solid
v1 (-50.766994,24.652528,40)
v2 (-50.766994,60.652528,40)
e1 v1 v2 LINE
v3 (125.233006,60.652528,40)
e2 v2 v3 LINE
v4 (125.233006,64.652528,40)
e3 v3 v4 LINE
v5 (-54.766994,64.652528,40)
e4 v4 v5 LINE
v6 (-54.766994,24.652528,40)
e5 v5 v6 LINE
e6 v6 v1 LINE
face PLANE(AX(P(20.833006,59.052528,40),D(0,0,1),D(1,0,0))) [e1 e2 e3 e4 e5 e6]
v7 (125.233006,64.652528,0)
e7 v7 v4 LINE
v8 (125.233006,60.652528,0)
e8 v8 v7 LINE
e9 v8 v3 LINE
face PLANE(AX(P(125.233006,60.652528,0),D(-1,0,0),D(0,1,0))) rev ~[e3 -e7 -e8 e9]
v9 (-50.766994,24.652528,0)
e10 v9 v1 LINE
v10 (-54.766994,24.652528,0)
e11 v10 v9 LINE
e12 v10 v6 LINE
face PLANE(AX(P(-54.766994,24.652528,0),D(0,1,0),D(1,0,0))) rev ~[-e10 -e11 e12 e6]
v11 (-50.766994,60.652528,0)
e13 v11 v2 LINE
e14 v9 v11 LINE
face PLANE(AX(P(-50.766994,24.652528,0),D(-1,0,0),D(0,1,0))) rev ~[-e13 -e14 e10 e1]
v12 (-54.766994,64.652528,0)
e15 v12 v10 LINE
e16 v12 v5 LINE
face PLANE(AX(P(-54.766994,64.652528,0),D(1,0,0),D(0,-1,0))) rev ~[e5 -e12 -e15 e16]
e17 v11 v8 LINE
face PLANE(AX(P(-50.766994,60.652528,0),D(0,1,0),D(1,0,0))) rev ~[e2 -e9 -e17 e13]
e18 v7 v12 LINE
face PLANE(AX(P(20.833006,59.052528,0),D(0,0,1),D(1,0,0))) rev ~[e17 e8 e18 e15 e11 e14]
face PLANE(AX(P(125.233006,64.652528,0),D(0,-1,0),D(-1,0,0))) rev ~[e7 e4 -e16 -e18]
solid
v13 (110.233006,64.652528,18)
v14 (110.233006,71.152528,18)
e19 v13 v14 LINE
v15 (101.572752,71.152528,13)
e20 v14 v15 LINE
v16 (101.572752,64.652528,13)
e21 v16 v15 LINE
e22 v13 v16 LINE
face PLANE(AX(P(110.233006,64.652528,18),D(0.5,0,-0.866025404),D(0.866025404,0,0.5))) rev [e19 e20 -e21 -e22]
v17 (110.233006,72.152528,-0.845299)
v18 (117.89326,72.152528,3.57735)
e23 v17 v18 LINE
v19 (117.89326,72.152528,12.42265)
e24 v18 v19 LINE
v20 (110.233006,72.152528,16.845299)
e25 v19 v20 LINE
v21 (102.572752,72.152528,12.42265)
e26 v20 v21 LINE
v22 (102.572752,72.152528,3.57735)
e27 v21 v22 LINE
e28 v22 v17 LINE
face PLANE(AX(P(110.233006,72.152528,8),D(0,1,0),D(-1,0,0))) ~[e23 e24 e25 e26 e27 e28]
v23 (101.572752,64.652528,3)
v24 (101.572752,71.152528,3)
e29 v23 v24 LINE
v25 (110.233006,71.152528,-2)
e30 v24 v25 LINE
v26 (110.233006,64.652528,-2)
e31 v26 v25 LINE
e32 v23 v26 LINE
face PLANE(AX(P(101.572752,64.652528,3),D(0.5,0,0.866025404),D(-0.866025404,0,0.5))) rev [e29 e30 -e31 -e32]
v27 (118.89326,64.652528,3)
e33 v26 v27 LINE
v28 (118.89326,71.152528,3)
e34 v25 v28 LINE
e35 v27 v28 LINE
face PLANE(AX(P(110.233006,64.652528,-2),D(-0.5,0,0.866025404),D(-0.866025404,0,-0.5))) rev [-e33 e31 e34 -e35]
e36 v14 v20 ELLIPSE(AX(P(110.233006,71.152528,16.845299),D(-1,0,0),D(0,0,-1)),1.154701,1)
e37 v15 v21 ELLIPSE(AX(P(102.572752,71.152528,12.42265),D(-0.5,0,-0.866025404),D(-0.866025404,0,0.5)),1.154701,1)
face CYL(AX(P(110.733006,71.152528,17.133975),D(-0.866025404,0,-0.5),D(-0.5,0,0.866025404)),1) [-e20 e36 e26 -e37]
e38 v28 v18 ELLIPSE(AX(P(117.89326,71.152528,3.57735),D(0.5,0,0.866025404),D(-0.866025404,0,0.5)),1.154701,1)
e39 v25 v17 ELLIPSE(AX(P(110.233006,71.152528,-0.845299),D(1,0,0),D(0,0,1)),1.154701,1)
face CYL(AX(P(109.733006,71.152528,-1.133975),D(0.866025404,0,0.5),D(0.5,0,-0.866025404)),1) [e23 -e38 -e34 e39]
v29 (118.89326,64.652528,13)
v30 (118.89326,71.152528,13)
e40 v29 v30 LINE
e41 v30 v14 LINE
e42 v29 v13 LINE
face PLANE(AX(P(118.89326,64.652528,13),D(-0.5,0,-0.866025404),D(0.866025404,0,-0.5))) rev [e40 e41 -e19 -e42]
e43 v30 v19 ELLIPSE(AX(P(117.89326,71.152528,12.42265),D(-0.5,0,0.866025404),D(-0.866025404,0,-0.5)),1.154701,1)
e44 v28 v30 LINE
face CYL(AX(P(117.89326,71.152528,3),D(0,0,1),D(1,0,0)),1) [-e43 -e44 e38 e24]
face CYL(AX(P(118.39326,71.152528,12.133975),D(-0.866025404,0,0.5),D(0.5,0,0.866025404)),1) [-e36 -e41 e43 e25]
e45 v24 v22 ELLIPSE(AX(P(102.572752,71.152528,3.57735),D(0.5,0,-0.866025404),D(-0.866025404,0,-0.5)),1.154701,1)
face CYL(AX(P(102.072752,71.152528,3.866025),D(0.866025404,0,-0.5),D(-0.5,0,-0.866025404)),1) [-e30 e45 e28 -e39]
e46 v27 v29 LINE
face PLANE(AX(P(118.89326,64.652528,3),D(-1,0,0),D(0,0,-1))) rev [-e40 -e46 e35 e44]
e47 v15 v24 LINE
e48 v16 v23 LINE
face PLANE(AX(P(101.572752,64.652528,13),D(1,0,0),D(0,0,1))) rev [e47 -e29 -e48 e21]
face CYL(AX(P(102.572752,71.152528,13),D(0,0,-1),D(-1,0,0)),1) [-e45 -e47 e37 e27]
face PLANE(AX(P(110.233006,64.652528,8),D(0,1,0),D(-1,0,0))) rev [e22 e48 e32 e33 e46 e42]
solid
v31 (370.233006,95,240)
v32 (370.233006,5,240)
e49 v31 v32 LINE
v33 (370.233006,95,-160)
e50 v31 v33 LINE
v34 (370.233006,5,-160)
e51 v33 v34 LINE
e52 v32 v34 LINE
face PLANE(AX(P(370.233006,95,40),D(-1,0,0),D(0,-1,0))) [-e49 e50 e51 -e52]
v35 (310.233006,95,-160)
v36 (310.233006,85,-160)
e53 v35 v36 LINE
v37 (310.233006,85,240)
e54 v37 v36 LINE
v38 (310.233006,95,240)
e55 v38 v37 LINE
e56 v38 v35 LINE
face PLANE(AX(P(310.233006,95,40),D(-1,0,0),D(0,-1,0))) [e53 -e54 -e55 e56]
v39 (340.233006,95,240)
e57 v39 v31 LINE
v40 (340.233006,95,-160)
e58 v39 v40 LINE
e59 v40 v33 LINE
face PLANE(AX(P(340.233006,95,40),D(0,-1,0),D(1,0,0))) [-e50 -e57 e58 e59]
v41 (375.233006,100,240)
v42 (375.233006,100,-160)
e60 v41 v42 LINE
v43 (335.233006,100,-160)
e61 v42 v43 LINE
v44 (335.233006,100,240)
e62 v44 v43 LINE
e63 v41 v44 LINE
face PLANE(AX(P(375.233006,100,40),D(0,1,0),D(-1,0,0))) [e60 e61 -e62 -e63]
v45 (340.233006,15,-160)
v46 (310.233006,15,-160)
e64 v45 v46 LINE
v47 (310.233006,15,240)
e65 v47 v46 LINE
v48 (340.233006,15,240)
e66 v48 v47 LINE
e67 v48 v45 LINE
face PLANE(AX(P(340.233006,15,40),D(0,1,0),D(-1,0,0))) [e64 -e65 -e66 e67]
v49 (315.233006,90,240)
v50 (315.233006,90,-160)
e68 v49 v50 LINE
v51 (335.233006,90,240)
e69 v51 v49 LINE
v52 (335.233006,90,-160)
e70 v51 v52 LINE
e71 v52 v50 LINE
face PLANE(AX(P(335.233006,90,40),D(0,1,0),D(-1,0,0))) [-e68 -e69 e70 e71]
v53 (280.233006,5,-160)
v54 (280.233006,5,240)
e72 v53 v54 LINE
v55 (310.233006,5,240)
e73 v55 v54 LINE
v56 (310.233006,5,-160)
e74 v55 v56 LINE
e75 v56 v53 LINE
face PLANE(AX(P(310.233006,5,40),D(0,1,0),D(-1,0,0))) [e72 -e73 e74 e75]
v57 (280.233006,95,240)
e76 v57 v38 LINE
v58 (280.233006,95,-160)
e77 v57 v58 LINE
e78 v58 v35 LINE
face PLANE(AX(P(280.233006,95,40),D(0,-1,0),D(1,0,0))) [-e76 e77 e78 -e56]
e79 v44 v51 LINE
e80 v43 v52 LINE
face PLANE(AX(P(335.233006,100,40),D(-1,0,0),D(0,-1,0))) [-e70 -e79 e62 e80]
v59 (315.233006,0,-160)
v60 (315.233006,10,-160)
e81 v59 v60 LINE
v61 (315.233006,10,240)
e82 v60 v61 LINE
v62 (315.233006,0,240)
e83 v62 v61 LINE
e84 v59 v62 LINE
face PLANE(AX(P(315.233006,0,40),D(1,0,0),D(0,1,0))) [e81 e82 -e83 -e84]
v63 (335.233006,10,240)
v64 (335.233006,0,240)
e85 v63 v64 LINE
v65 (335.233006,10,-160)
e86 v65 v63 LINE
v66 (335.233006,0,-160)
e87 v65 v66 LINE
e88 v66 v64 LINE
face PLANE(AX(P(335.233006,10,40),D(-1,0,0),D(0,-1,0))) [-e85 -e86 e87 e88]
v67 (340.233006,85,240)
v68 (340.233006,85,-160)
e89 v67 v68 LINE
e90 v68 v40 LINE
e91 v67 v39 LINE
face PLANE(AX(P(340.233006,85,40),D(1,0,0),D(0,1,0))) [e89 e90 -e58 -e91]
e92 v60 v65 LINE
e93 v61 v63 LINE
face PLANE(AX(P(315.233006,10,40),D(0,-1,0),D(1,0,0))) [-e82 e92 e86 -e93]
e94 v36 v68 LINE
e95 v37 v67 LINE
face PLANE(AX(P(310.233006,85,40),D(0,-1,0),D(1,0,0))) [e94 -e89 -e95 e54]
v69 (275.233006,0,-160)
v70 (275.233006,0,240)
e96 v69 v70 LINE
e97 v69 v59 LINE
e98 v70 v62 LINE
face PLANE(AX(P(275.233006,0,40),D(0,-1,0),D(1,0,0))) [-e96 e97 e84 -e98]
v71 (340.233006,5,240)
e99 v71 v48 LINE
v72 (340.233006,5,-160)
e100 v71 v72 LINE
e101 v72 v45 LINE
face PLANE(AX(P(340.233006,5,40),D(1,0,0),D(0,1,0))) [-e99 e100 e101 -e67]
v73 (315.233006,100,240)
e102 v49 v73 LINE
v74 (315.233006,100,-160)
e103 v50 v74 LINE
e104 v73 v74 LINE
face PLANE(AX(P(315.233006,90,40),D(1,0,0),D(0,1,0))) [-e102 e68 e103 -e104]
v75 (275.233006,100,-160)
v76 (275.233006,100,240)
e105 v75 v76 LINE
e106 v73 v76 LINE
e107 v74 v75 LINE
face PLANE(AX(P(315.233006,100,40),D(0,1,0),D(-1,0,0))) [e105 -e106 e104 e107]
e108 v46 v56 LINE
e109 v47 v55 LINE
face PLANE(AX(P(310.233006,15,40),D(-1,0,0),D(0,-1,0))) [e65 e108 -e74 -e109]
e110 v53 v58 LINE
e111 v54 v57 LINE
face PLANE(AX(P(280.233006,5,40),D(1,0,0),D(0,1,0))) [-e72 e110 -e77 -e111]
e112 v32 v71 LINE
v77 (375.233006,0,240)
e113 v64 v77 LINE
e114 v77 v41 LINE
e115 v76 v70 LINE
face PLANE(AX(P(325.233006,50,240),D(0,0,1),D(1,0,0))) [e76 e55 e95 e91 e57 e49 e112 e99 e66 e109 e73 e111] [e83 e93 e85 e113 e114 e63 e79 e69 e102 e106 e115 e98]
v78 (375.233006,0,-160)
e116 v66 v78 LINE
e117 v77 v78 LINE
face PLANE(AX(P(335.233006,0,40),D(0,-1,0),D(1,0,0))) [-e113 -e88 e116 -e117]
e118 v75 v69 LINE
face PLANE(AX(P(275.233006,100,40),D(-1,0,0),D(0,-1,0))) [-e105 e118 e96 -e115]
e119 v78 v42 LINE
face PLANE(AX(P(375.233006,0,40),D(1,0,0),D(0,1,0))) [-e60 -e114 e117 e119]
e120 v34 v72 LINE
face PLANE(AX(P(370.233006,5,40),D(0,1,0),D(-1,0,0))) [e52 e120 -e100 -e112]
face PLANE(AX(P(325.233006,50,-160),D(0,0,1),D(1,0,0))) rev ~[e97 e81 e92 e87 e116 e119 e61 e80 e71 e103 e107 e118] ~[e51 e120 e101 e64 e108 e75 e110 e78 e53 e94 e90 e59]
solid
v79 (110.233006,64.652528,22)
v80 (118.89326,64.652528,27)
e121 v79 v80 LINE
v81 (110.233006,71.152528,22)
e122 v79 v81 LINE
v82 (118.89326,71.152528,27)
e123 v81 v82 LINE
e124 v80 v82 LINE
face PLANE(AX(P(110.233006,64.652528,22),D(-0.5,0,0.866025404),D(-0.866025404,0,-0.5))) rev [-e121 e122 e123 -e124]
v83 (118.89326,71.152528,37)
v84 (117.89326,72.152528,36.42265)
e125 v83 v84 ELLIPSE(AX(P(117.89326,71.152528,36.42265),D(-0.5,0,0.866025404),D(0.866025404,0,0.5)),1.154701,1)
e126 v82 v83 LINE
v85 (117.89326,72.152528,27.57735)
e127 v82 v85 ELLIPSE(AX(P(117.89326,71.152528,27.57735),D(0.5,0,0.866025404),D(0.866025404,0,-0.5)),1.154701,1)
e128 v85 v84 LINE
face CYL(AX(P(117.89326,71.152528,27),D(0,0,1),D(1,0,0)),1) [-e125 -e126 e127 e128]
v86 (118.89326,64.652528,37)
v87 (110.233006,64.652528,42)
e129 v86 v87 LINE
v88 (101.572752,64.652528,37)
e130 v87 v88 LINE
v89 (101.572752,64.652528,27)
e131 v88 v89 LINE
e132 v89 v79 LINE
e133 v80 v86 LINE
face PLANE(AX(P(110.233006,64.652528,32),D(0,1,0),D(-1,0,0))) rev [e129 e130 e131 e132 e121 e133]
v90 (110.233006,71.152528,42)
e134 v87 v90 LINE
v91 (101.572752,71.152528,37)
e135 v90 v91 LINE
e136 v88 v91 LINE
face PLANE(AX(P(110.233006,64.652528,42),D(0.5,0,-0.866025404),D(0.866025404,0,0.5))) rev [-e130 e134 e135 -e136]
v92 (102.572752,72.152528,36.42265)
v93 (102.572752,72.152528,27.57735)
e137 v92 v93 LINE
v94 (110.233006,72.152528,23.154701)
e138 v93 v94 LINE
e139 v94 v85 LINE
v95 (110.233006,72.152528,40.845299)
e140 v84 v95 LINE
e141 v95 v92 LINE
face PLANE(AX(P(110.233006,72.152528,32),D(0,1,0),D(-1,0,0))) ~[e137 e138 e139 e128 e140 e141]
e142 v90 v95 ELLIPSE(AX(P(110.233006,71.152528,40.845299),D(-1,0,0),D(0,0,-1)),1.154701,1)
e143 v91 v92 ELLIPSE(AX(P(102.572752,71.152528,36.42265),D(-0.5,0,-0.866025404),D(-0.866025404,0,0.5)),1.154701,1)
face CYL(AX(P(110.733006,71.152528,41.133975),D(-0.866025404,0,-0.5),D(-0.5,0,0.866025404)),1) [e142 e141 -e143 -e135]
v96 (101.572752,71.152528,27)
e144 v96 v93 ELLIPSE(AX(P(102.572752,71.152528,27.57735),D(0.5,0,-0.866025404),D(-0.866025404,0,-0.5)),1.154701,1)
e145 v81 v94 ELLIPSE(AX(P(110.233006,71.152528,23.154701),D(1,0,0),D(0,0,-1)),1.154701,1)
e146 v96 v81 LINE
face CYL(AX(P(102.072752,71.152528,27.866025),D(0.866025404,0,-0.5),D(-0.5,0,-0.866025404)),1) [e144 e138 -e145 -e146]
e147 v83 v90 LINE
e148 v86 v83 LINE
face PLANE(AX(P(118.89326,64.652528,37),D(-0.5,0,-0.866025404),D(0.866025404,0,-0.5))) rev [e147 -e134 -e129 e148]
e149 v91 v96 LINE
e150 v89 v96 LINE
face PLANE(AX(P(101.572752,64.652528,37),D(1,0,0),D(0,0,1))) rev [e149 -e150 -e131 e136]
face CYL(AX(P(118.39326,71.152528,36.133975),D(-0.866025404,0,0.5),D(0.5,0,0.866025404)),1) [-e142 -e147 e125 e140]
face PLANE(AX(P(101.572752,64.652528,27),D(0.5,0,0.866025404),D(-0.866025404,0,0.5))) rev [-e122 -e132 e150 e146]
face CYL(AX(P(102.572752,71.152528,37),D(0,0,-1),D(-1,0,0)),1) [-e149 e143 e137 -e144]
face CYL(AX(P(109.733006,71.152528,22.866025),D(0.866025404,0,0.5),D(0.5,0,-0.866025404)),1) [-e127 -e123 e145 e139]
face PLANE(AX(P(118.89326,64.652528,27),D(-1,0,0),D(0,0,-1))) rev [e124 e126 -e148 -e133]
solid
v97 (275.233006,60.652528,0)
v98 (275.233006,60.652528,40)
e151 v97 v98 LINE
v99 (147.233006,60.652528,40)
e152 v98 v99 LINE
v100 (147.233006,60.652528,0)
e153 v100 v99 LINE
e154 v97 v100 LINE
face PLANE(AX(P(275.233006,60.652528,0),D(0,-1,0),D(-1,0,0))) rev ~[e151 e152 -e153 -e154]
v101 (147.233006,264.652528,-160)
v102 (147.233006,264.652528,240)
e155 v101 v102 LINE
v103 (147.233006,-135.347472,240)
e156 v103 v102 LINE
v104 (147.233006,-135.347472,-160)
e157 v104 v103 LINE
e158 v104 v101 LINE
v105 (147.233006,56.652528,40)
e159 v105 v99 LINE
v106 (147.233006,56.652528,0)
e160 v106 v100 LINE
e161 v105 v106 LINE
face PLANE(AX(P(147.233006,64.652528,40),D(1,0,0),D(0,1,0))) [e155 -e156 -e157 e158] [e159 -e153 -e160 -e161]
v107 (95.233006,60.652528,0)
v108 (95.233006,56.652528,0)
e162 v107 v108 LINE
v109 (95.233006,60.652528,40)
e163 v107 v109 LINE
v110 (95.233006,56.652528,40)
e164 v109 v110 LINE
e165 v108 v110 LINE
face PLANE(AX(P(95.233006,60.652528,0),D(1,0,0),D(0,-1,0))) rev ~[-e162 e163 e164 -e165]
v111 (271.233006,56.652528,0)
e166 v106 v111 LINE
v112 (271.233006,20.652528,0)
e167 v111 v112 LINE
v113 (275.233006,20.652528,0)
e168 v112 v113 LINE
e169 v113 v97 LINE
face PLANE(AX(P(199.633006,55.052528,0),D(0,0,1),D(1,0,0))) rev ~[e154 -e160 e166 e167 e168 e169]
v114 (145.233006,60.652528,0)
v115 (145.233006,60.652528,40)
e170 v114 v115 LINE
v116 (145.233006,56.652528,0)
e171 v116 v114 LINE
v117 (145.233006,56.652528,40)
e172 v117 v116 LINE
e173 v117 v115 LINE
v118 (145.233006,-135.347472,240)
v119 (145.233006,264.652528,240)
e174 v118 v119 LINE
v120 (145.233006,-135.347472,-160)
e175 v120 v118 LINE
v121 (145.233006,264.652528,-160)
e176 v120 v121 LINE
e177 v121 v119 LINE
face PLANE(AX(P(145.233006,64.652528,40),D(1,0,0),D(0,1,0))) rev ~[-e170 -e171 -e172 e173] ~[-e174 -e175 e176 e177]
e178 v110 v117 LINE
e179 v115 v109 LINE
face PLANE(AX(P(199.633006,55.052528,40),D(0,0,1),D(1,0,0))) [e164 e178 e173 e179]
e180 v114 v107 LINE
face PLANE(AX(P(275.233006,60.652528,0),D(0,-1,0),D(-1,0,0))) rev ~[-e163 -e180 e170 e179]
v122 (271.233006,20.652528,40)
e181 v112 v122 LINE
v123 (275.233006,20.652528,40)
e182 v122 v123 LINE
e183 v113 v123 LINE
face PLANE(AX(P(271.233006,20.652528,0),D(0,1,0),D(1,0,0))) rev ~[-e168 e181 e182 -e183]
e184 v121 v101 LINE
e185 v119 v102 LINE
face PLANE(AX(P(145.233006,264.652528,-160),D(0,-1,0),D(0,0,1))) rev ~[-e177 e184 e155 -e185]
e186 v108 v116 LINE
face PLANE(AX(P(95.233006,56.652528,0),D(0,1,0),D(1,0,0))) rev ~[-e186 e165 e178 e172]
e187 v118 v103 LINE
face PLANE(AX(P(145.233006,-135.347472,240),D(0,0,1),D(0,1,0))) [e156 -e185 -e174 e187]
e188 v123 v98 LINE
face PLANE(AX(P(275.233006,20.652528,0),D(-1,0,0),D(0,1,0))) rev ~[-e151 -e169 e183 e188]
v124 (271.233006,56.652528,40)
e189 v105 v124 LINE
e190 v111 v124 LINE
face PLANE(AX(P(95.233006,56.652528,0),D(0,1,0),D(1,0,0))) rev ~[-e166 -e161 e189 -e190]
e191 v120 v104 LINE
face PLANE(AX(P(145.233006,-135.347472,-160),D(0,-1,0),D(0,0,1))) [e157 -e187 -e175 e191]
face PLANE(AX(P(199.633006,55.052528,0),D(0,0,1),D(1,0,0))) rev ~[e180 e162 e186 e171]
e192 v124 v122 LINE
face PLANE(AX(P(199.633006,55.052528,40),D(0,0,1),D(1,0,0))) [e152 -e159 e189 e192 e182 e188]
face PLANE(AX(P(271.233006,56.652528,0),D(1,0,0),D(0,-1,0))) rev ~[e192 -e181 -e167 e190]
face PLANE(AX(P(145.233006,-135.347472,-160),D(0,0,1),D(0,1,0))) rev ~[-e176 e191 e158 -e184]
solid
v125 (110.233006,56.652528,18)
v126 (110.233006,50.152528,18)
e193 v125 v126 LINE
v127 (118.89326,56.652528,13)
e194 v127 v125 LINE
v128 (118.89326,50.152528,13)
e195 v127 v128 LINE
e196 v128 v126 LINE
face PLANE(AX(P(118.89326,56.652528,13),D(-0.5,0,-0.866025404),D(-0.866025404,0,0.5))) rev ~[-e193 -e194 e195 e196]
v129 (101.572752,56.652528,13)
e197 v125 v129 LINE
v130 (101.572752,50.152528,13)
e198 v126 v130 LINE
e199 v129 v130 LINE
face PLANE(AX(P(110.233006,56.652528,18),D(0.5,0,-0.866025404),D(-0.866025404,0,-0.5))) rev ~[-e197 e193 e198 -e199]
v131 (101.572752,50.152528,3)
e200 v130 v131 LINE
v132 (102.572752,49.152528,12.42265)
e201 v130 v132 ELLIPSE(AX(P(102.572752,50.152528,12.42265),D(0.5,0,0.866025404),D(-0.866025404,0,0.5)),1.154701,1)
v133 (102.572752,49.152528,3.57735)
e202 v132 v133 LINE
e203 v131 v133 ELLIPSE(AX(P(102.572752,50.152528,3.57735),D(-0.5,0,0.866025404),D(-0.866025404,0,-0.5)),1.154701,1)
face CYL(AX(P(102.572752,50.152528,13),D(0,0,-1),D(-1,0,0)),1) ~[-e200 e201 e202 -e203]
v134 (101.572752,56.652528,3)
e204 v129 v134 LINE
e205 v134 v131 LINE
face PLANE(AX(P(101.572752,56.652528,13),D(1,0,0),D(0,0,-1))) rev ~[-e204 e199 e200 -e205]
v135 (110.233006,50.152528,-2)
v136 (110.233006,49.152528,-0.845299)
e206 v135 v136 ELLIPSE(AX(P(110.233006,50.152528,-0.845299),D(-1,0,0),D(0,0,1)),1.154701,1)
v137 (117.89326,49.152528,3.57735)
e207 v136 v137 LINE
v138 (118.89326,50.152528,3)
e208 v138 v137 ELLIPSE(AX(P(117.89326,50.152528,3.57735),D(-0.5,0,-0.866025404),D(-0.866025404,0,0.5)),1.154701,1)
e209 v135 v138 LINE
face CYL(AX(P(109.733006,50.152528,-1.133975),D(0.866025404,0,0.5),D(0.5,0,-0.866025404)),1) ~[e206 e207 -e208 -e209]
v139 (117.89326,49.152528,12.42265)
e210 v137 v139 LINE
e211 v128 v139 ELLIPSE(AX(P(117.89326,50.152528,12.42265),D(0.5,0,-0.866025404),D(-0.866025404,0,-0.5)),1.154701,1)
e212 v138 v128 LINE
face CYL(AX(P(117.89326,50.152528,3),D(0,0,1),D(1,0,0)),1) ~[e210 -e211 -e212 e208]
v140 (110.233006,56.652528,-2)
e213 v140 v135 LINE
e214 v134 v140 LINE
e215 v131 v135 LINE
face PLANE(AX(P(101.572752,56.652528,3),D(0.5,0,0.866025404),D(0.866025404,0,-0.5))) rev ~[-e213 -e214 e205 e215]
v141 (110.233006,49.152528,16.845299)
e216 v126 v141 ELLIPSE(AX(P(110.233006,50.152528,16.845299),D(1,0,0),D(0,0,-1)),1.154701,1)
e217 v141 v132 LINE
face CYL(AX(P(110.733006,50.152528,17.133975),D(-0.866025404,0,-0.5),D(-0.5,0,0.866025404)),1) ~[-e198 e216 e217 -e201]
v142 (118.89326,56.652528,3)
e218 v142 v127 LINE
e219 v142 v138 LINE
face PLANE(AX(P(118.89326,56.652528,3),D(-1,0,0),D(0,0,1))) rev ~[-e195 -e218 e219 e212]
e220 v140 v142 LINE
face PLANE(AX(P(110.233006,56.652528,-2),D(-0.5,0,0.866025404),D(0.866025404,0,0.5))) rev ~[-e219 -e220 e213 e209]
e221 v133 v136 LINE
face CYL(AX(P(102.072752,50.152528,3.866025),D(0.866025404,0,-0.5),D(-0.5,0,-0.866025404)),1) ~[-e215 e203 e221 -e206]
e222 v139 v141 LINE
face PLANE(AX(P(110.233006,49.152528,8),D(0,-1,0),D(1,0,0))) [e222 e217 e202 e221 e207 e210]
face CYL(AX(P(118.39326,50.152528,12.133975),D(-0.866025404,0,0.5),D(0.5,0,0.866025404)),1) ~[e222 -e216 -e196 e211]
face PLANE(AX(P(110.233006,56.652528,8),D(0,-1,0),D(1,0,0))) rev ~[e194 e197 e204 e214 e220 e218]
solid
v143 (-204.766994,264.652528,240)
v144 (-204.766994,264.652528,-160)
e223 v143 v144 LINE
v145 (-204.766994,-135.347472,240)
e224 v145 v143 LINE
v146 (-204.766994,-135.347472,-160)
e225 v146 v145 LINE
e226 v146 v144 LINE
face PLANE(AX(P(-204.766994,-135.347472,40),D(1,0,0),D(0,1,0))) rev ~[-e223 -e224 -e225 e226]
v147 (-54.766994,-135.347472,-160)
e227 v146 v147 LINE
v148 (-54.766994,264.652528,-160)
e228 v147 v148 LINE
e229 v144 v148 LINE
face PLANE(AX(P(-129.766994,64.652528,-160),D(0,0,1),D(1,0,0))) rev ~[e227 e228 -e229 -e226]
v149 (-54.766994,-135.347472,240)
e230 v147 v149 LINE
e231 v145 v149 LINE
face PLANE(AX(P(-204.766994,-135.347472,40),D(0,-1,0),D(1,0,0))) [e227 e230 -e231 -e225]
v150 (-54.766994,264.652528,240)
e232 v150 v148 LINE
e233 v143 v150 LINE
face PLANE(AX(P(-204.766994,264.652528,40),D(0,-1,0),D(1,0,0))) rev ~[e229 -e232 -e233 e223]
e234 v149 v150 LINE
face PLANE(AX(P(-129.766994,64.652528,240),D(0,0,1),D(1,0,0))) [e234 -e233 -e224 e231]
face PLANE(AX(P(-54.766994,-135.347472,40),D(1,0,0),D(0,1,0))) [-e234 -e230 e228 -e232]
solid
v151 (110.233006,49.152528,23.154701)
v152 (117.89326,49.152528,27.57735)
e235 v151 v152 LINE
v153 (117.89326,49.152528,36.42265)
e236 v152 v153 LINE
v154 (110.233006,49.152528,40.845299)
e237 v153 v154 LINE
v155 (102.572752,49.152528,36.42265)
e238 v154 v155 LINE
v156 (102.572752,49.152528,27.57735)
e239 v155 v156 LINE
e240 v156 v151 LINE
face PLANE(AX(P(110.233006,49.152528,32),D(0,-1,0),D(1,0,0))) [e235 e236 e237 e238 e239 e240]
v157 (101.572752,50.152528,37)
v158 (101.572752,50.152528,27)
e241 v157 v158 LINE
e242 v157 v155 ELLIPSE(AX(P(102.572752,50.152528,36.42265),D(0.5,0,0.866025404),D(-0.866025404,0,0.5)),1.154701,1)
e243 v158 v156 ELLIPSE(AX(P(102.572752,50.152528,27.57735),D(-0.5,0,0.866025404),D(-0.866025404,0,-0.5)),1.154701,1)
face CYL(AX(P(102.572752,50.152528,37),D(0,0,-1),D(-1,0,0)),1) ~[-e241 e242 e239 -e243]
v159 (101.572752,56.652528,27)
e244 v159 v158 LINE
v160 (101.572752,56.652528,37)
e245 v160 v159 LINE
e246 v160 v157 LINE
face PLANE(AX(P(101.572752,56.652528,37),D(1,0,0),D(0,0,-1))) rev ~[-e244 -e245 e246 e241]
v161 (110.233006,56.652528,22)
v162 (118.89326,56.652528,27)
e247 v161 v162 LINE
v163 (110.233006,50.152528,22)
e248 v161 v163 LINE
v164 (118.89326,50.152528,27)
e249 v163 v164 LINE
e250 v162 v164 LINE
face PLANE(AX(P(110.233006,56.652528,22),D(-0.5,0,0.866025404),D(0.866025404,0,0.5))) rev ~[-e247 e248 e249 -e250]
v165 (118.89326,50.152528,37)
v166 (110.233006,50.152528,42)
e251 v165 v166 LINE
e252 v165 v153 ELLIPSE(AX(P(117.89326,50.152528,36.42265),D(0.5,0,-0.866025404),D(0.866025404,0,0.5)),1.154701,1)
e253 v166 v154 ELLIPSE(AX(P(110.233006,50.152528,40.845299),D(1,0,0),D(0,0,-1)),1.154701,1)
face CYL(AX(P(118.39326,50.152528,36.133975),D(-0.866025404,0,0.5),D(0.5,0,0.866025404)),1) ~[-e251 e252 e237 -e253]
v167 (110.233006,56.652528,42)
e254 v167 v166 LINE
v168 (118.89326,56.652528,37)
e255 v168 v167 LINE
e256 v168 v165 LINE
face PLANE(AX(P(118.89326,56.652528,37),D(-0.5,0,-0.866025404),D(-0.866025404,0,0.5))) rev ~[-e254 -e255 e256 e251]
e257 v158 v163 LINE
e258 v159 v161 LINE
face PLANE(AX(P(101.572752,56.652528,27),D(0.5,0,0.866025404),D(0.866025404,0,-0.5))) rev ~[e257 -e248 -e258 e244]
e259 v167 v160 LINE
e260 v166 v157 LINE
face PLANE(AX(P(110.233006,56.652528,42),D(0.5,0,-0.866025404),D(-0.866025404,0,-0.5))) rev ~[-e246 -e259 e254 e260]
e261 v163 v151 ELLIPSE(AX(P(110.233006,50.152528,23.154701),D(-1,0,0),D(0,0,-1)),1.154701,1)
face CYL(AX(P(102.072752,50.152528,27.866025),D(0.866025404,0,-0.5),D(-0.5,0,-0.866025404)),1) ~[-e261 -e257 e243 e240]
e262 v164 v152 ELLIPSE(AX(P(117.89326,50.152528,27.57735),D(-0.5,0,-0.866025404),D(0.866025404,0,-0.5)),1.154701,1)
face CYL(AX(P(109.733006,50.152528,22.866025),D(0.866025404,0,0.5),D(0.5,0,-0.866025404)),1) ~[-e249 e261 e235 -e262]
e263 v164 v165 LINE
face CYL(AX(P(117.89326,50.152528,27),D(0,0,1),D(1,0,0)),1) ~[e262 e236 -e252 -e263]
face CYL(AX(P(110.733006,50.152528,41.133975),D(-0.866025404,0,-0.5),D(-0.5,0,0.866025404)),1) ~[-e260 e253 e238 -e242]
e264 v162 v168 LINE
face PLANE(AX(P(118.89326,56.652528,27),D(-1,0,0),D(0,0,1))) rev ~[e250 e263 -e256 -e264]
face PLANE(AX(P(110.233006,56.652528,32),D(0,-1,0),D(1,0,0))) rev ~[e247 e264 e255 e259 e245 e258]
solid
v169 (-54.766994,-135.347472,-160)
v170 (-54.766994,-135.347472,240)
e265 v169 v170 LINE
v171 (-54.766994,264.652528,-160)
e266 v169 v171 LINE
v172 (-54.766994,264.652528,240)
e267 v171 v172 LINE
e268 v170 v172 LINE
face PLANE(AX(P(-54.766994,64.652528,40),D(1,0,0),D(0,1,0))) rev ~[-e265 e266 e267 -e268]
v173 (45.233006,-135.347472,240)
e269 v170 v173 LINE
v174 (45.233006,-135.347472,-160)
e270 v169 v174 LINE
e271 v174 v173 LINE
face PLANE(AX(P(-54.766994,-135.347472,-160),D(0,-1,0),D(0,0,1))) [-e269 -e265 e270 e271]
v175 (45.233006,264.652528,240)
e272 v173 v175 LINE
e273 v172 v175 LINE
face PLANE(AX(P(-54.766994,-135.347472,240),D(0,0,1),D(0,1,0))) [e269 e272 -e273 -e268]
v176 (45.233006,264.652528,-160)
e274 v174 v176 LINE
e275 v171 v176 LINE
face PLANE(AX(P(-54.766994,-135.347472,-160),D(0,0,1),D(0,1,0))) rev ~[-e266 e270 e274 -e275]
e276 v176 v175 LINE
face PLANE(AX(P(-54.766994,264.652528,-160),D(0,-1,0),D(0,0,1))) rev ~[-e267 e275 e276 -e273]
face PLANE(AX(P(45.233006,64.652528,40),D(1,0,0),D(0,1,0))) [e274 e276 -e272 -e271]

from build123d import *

# Parameters (mm, degrees)
F1_DEPTH       = 40
F3_DEPTH       = 40
F5_DEPTH       = 7.5
F6_R           = 1
F6_2_R         = 1
F9_DEPTH       = 200
F9_DEPTH_BACK  = 200
F10_W          = 150
F10_H          = 400
F11_DEPTH      = 200
F11_DEPTH_BACK = 200
F12_W          = 400
F12_H          = 400
F13_DEPTH      = 100
F16_W          = 400
F16_H          = 400
F17_DEPTH      = 2


with BuildPart() as f1:
    # F0 (on Top) → F1 (new body)
    with BuildSketch(Plane.XY):
        Polygon((125.2330060303, 64.6525276452), (-54.7669939697, 64.6525276452), (-54.7669939697, 24.6525276452), (-50.7669939697, 24.6525276452), (-50.7669939697, 60.6525276452), (125.2330060303, 60.6525276452), align=None)
    extrude(amount=F1_DEPTH)


with BuildPart() as f3:
    # F2 (on Top) → F3 (new body)
    with BuildSketch(Plane.XY):
        Polygon((275.2330060303, 60.6525276452), (95.2330060303, 60.6525276452), (95.2330060303, 56.6525276452), (271.2330060303, 56.6525276452), (271.2330060303, 20.6525276452), (275.2330060303, 20.6525276452), align=None)
    extrude(amount=F3_DEPTH)

    # F16 (on offset) → F17 (join)
    with BuildSketch(Plane.YZ.offset(145.2330060303)):
        with Locations((64.6525276452, 40)):
            Rectangle(F16_W, F16_H)
    extrude(amount=F17_DEPTH)


with BuildPart() as f5:
    # F4 (on face) → F5 (new body)
    with BuildSketch(Plane.XZ.offset(-56.6525276452)):
        Polygon((118.8932600682, 27), (118.8932600682, 37), (110.2330060303, 42), (101.5727519925, 37), (101.5727519925, 27), (110.2330060303, 22), align=None)
    extrude(amount=F5_DEPTH)

    # F6
    f6_edges = [f5.edges().sort_by_distance(p)[0] for p in [
        (105.902879, 49.152528, 39.5),
        (101.572752, 49.152528, 32),
        (105.902879, 49.152528, 24.5),
        (114.563133, 49.152528, 24.5),
        (118.89326, 49.152528, 32),
        (114.563133, 49.152528, 39.5),
    ]]
    fillet(f6_edges, radius=F6_R)


with BuildPart() as f5b:
    # F4 (on face) → F5, piece 2 (new body)
    with BuildSketch(Plane.XZ.offset(-56.6525276452)):
        Polygon((101.5727519925, 13), (101.5727519925, 3), (110.2330060303, -2), (118.8932600682, 3), (118.8932600682, 13), (110.2330060303, 18), align=None)
    extrude(amount=F5_DEPTH)

    # F6#2
    f6_2_edges = [f5b.edges().sort_by_distance(p)[0] for p in [
        (105.902879, 49.152528, 15.5),
        (101.572752, 49.152528, 8),
        (114.563133, 49.152528, 15.5),
        (118.89326, 49.152528, 8),
        (114.563133, 49.152528, 0.5),
        (105.902879, 49.152528, 0.5),
    ]]
    fillet(f6_2_edges, radius=F6_2_R)


with BuildPart() as f7_1:
    # F7: instance of F5
    add(f5.part.mirror(Plane(origin=(185.2330060303, 60.6525276452, 20), x_dir=(-1, 0, 0), z_dir=(0, 1, 0))))


with BuildPart() as f7_2:
    # F7: instance of F5b
    add(f5b.part.mirror(Plane(origin=(185.2330060303, 60.6525276452, 20), x_dir=(-1, 0, 0), z_dir=(0, 1, 0))))


with BuildPart() as f9:
    # F8 (on face) → F9 (new body, two sides)
    with BuildSketch(Plane.XY.offset(40)) as f9_sk:
        Polygon((315.2330060303, 100), (275.2330060303, 100), (275.2330060303, 0), (315.2330060303, 0), (315.2330060303, 10), (335.2330060303, 10), (335.2330060303, 0), (375.2330060303, 0), (375.2330060303, 100), (335.2330060303, 100), (335.2330060303, 90), (315.2330060303, 90), align=None)
        Polygon((280.2330060303, 5), (280.2330060303, 95), (310.2330060303, 95), (310.2330060303, 85), (340.2330060303, 85), (340.2330060303, 95), (370.2330060303, 95), (370.2330060303, 5), (340.2330060303, 5), (340.2330060303, 15), (310.2330060303, 15), (310.2330060303, 5), align=None, mode=Mode.SUBTRACT)
    extrude(amount=F9_DEPTH)
    extrude(f9_sk.sketch, amount=-F9_DEPTH_BACK)


with BuildPart() as f11:
    # F10 (on face) → F11 (new body, two sides)
    with BuildSketch(Plane.XY.offset(40)) as f11_sk:
        with Locations((-129.7669939697, 64.6525276452)):
            Rectangle(F10_W, F10_H)
    extrude(amount=F11_DEPTH)
    extrude(f11_sk.sketch, amount=-F11_DEPTH_BACK)


with BuildPart() as f13:
    # F12 (on face) → F13 (new body)
    with BuildSketch(Plane.YZ.offset(-54.7669939697)):
        with Locations((64.6525276452, 40)):
            Rectangle(F12_W, F12_H)
    extrude(amount=F13_DEPTH)


solid = Compound([f1.part, f3.part, f5.part, f5b.part, f7_1.part, f7_2.part, f9.part, f11.part, f13.part])
